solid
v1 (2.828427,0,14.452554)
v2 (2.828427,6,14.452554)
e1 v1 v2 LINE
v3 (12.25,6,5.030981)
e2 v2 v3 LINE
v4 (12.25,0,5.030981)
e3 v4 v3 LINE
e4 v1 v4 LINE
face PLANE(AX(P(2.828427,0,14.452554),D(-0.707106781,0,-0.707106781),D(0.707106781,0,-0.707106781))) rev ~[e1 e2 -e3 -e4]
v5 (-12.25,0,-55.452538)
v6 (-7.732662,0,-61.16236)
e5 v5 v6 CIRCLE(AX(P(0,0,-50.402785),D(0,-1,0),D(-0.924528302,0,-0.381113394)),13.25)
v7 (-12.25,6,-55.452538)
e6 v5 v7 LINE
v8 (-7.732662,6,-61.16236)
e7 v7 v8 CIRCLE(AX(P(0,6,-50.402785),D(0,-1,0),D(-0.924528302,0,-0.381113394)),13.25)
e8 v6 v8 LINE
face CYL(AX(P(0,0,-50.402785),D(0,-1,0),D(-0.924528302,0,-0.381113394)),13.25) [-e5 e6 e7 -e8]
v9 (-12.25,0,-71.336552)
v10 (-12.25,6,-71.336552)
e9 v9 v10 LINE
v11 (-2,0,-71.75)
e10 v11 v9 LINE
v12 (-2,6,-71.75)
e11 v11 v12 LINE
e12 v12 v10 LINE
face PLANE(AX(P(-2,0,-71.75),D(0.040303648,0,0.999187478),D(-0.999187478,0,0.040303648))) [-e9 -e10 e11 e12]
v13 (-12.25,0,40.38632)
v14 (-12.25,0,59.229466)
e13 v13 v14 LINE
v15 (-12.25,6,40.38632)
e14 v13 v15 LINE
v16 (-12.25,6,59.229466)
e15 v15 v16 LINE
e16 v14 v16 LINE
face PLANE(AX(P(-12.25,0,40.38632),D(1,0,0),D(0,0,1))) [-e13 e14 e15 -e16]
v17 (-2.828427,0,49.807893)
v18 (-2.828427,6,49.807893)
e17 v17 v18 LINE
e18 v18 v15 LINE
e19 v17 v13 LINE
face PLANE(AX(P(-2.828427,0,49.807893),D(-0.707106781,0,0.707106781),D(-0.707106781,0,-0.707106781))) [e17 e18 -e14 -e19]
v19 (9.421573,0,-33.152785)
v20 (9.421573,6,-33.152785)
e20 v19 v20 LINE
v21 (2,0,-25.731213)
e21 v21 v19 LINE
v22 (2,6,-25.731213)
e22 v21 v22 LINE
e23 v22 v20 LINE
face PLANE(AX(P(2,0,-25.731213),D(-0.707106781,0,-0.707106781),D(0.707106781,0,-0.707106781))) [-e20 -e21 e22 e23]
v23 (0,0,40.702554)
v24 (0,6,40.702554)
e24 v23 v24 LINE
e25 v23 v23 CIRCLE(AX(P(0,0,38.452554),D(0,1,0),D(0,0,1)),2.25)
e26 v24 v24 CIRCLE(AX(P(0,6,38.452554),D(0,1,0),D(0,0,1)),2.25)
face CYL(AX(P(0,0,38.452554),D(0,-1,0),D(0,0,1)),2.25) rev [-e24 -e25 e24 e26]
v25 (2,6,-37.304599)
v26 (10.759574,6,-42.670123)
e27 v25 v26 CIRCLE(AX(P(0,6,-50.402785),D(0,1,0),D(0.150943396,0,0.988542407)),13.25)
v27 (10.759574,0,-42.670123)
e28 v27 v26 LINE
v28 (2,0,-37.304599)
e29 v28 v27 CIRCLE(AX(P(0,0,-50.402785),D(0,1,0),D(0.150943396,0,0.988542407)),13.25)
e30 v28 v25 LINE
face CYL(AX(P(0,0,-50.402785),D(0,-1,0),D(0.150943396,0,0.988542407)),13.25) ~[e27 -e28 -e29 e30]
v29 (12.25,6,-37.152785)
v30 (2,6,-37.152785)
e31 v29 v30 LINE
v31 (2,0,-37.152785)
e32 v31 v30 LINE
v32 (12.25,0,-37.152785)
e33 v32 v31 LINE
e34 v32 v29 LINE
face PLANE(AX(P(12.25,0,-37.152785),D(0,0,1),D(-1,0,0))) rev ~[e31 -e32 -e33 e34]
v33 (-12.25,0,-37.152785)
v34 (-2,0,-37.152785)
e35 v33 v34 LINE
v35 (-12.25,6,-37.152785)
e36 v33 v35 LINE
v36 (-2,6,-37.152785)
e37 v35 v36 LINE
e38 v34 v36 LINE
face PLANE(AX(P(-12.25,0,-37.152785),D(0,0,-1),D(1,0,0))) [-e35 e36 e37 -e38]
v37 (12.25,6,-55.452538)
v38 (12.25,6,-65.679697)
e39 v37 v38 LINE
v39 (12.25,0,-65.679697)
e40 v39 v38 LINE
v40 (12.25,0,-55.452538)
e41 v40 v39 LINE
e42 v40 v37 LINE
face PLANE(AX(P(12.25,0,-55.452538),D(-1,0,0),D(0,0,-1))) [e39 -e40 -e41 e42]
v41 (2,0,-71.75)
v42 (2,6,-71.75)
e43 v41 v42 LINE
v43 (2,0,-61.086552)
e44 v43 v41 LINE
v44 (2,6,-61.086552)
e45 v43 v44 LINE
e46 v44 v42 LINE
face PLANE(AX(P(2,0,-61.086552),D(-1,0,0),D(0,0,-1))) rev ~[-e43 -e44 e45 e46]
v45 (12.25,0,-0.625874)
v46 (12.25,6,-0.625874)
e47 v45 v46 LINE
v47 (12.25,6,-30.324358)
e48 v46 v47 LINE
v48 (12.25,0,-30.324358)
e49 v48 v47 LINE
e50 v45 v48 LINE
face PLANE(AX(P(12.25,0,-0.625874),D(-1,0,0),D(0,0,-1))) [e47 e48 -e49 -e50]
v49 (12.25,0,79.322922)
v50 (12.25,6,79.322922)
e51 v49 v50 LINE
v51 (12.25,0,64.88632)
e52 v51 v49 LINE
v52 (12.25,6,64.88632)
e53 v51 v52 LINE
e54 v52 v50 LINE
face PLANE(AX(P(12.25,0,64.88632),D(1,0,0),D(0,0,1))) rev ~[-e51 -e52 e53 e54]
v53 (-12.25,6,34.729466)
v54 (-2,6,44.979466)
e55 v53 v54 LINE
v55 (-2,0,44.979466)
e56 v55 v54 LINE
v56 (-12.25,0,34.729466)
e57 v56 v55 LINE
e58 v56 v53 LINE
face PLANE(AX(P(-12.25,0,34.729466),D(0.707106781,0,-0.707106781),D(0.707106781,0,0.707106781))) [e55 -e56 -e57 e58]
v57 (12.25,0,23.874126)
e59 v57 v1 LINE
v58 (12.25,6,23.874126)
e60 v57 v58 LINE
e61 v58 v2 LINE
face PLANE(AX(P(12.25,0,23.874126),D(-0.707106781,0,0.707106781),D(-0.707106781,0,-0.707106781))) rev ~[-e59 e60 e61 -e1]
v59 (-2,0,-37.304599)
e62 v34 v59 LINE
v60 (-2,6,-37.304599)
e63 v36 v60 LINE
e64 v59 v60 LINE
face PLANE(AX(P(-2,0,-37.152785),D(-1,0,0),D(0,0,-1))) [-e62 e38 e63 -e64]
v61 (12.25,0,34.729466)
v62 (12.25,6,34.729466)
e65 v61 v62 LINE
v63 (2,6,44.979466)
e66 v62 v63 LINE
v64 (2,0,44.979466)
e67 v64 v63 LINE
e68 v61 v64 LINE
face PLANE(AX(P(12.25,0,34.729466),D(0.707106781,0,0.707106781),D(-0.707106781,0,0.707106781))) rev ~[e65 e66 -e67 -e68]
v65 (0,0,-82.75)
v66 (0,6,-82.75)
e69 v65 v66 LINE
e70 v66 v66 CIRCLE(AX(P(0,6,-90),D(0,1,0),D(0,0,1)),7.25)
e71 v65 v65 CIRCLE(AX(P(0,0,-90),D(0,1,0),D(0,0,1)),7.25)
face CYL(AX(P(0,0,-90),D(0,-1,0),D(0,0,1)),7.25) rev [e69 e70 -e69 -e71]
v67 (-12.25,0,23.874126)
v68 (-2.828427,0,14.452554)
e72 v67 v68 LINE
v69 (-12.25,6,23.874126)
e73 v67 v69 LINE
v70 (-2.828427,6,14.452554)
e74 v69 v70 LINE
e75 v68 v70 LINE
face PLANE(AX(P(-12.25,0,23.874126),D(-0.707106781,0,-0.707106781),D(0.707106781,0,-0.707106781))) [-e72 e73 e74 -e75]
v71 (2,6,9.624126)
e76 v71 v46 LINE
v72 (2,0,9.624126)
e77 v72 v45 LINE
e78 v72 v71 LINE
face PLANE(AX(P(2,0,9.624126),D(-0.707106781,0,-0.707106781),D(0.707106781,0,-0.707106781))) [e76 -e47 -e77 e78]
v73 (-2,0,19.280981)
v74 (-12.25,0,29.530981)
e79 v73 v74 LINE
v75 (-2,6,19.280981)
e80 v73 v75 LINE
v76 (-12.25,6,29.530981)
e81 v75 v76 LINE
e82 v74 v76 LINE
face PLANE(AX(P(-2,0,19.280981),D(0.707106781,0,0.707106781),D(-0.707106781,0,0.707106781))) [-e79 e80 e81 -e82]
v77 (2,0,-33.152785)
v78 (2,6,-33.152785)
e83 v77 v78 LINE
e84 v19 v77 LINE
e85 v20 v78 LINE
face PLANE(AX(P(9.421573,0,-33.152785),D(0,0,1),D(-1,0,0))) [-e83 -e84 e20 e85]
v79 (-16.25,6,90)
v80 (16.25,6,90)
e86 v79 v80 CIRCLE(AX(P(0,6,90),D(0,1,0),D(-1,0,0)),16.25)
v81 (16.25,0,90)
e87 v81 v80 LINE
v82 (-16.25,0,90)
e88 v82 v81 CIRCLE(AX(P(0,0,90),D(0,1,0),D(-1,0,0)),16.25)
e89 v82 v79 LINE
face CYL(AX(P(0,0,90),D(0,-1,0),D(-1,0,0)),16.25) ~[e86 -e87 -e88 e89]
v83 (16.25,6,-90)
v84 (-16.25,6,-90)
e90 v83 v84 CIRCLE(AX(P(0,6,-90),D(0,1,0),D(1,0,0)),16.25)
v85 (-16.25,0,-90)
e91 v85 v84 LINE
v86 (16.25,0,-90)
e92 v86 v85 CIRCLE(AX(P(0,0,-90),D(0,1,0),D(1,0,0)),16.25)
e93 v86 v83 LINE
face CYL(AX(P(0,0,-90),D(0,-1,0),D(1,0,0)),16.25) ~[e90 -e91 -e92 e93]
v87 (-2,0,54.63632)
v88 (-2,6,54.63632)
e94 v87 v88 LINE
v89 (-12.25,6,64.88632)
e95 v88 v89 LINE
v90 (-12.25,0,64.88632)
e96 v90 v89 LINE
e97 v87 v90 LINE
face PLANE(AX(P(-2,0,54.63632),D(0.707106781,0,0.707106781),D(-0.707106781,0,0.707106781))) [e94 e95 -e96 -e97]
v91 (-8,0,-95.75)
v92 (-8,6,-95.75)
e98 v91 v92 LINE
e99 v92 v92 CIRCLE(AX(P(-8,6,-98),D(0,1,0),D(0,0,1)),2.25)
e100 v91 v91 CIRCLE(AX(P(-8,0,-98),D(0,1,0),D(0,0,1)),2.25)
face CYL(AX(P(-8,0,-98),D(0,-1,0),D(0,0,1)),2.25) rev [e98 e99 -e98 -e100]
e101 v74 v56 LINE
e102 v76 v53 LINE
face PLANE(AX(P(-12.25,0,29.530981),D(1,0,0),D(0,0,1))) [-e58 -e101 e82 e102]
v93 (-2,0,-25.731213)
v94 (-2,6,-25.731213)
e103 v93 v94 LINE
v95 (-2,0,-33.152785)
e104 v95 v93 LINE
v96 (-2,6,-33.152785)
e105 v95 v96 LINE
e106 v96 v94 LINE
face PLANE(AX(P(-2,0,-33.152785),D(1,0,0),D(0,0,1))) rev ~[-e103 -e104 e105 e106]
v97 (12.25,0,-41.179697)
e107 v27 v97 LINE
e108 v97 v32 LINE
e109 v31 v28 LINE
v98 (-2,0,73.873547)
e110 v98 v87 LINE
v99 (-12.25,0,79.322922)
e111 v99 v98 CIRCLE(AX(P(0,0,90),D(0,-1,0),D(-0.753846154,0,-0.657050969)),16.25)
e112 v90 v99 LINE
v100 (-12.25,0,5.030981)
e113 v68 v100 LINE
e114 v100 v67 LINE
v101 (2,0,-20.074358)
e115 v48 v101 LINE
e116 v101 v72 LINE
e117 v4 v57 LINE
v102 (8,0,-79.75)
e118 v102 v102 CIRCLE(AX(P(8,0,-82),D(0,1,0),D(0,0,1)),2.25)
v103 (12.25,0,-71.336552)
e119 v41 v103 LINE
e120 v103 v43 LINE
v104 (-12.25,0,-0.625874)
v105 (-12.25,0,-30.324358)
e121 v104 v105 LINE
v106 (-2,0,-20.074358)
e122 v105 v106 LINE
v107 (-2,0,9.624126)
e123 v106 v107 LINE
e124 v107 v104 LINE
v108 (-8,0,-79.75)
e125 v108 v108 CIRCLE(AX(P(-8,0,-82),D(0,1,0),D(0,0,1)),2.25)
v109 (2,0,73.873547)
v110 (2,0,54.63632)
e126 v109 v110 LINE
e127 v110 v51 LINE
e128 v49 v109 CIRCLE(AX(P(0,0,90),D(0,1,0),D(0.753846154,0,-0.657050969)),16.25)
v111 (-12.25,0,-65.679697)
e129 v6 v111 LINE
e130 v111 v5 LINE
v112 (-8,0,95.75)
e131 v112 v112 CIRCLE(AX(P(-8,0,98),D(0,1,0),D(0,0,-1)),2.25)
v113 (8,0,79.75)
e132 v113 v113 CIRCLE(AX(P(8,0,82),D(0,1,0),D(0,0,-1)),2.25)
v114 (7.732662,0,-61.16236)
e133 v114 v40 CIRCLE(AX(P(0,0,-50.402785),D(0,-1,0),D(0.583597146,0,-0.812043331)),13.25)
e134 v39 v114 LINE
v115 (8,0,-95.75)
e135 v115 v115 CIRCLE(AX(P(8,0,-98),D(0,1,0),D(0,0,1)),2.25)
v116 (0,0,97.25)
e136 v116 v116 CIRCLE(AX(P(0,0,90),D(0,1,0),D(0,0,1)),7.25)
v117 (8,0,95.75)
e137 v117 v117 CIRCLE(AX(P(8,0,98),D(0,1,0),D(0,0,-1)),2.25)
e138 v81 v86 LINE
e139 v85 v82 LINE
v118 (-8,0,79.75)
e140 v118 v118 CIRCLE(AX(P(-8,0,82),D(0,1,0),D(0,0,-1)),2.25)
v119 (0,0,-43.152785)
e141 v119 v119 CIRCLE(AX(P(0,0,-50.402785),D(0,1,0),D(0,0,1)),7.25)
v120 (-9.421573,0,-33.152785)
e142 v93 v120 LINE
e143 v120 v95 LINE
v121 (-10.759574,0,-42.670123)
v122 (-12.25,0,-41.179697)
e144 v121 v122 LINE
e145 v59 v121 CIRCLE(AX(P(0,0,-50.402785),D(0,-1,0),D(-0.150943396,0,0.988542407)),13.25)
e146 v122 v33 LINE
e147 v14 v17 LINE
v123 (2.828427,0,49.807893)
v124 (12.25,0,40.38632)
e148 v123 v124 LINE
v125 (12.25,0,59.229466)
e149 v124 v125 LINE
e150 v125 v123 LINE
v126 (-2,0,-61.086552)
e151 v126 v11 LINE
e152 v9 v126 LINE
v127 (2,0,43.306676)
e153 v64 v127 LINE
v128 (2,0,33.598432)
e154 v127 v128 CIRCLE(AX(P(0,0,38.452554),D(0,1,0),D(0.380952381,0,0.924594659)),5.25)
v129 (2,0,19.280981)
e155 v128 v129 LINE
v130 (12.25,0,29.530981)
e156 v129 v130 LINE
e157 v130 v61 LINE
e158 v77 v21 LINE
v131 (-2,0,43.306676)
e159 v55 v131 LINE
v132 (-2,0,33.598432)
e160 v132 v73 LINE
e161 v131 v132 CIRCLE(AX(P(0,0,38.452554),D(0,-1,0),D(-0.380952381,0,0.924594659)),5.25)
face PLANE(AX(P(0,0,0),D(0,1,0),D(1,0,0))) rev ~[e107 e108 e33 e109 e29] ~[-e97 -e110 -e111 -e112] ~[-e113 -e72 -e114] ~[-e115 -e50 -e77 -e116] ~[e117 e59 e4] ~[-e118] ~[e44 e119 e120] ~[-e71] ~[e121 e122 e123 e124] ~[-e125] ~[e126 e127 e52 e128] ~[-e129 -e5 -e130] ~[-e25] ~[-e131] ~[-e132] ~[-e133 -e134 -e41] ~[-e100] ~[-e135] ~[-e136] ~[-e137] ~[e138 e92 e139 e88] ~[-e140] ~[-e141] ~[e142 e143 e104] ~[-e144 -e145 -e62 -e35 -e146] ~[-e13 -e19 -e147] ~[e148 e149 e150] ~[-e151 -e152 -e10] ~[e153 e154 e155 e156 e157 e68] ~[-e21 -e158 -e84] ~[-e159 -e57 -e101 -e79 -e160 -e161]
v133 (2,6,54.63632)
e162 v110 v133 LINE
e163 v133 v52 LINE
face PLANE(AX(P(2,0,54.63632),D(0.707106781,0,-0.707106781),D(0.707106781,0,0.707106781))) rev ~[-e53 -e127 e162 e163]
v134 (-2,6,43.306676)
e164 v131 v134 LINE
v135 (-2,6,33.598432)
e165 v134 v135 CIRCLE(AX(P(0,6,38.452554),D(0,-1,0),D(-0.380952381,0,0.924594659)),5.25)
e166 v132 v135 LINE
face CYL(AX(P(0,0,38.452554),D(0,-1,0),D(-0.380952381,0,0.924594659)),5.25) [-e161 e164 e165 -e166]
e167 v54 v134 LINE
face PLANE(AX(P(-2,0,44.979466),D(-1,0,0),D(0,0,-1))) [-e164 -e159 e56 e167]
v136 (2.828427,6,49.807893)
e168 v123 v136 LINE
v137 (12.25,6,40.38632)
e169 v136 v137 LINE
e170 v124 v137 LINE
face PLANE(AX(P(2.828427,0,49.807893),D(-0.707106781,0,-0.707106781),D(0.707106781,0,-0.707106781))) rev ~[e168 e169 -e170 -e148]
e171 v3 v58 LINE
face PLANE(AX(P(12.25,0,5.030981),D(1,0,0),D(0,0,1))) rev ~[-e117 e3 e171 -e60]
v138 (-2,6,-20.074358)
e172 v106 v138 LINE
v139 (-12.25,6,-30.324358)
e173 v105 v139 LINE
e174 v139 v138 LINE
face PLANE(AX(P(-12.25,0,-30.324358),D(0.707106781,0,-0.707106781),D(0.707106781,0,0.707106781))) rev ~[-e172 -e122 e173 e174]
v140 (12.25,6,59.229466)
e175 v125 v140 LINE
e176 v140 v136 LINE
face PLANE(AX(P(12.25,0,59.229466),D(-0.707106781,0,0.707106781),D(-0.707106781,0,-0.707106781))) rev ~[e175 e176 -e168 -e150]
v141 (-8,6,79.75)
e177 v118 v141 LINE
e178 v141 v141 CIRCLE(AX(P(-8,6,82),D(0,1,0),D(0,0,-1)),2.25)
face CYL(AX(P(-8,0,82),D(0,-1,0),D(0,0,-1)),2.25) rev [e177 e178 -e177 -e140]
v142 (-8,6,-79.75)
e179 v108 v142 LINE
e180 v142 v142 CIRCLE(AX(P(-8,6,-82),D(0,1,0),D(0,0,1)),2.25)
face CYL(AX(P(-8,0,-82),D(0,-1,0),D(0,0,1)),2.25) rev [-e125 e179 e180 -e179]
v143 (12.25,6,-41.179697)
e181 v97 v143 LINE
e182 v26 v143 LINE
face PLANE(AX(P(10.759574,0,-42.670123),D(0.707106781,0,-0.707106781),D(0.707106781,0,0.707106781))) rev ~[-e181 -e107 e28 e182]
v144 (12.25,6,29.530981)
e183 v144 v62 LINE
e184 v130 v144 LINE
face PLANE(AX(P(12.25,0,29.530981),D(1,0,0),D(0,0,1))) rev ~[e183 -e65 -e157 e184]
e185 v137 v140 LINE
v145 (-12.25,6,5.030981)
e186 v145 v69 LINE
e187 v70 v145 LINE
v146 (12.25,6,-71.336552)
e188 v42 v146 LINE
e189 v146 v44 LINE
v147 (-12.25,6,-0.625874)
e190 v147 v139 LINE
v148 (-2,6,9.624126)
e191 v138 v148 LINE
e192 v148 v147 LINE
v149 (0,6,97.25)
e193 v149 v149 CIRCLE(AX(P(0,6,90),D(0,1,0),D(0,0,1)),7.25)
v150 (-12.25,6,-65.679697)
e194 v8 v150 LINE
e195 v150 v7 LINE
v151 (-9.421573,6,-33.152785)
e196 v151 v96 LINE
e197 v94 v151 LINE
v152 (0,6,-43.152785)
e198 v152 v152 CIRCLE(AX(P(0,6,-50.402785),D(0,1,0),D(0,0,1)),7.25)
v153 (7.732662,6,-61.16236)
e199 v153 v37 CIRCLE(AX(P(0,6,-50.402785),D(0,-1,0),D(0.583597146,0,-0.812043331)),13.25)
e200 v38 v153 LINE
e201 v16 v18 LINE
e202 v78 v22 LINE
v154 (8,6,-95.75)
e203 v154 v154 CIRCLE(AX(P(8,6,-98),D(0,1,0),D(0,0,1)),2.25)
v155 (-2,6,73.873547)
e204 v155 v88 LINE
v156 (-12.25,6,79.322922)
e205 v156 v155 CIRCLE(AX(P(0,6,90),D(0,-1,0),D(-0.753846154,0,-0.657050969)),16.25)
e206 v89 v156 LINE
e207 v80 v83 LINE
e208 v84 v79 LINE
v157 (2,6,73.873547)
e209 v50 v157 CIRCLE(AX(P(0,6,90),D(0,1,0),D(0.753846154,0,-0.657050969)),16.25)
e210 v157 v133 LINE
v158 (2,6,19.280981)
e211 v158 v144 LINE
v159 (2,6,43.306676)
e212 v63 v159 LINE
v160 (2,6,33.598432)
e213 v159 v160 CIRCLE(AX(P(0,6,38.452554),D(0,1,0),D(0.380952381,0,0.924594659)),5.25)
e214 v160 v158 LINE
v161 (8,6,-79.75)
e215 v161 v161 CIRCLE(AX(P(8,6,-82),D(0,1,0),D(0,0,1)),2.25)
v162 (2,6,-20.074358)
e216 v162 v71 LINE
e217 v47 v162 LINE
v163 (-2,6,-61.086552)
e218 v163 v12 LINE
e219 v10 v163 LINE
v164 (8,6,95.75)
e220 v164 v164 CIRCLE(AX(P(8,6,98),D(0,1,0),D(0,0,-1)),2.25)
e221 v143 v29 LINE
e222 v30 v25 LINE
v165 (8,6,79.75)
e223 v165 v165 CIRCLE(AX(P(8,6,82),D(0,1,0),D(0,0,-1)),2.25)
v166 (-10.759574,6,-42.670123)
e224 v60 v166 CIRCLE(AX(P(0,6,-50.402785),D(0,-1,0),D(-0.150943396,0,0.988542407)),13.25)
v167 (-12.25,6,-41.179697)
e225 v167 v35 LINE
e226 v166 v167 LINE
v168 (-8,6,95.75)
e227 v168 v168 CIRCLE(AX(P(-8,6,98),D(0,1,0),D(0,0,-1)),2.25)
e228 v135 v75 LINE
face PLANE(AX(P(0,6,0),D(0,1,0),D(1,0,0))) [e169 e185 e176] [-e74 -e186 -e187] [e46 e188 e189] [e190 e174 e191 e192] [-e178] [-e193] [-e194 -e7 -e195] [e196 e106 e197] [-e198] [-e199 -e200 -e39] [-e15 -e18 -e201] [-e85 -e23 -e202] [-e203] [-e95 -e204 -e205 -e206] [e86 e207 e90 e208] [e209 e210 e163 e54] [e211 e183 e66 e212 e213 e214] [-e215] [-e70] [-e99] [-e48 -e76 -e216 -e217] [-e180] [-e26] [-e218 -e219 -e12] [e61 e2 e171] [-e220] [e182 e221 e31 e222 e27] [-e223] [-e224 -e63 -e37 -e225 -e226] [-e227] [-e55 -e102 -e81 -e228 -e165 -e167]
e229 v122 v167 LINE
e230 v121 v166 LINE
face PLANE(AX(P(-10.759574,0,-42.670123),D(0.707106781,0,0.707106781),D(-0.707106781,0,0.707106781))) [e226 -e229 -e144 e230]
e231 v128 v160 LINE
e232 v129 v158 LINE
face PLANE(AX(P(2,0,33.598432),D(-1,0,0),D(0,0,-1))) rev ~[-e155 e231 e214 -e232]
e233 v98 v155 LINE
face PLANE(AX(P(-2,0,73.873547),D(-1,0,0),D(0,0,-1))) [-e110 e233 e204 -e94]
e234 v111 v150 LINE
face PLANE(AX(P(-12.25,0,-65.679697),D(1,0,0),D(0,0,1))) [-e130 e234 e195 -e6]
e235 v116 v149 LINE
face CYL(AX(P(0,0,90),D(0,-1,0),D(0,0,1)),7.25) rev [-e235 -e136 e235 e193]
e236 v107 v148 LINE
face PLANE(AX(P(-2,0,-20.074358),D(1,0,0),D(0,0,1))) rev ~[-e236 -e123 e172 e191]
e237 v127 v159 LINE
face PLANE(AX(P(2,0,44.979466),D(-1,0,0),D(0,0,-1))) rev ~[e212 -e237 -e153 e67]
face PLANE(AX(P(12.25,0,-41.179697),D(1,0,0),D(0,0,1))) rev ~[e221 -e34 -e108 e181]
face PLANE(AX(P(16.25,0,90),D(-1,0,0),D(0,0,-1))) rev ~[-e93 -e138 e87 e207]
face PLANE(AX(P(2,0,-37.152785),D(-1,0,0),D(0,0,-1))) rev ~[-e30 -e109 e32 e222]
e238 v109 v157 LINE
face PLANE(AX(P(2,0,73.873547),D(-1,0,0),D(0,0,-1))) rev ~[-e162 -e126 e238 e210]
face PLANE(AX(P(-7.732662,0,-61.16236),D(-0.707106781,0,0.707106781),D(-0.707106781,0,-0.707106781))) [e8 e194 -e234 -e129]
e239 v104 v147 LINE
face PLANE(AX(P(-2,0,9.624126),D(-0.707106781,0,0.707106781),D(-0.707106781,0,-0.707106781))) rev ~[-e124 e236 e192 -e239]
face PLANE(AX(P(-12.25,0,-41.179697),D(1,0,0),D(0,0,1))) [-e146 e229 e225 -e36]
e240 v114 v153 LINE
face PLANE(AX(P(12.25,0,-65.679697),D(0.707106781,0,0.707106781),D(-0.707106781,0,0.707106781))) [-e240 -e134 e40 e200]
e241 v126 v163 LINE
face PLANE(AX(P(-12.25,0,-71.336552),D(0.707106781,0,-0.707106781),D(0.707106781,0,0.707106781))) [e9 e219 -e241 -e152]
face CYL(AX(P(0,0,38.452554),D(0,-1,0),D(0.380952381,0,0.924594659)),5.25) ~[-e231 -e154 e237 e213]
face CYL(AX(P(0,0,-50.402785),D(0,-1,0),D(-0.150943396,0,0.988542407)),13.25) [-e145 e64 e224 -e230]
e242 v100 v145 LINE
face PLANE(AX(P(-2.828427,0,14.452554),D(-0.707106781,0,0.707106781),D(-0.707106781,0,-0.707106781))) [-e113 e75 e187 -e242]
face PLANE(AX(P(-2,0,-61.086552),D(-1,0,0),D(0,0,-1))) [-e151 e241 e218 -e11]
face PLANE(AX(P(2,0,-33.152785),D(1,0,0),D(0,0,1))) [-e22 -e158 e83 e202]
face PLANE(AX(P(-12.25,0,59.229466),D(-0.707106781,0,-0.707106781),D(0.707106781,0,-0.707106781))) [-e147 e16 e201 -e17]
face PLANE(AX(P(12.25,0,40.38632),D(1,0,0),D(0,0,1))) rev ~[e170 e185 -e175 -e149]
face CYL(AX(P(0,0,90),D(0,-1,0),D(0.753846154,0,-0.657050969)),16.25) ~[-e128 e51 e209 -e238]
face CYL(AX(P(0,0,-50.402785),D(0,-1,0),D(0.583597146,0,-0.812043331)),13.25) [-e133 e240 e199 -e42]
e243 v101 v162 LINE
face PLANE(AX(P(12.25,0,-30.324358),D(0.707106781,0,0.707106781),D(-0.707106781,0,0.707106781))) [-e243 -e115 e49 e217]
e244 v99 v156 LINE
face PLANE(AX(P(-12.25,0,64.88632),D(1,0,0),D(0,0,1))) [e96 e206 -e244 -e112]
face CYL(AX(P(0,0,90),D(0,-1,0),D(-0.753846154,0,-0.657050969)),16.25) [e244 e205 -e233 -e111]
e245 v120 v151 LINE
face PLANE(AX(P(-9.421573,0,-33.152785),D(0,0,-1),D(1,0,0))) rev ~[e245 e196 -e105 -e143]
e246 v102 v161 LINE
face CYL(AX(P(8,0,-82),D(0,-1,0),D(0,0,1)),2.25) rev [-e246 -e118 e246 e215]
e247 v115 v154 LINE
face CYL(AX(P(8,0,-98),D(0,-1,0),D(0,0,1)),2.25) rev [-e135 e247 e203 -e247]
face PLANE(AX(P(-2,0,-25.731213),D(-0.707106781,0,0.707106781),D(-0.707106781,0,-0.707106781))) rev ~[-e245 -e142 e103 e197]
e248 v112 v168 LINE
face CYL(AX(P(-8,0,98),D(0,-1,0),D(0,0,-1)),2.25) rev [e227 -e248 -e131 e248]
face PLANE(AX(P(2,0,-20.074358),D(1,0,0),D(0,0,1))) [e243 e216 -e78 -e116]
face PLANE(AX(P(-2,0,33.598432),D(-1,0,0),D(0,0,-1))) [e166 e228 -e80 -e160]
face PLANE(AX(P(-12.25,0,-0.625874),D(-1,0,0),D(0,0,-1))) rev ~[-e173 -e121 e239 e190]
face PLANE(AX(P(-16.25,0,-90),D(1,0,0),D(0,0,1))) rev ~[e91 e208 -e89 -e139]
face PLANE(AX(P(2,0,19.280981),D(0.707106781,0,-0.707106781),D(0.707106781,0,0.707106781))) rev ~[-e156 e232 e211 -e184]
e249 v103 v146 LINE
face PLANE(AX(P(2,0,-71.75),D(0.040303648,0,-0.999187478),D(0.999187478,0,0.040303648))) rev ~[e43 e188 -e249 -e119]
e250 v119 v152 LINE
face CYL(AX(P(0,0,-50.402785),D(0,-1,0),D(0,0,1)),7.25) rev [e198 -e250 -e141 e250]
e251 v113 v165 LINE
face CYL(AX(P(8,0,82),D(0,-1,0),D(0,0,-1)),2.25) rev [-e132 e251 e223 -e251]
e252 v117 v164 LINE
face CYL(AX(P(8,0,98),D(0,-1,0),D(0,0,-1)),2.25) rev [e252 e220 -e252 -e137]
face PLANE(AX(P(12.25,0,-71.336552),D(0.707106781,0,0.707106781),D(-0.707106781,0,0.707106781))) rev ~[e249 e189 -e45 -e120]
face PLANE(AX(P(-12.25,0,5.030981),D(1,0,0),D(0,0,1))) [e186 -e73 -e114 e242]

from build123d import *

# Parameters (mm, degrees)
SKETCH2_R           = 7.25
SKETCH2_R_2         = 2.25
BOSS_EXTRUDE1_DEPTH = 6
CUT_EXTRUDE1_START  = -6
CUT_EXTRUDE1_DEPTH  = 6


with BuildPart() as part:
    # Sketch2 → Boss-Extrude1 (new body)
    with BuildSketch(Plane(origin=(0, 0, 0), x_dir=(1, 0, 0), z_dir=(0, 1, 0))):
        with BuildLine():
            Line((-16.25, 90), (-16.25, -90))
            ThreePointArc((-16.25, -90), (0, -106.25), (16.25, -90))
            Line((16.25, -90), (16.25, 90))
            ThreePointArc((16.25, 90), (0, 106.25), (-16.25, 90))
        make_face()
        with Locations(Location((0, 90, 0), (0, 0, 270))):
            Circle(SKETCH2_R, mode=Mode.SUBTRACT)
        with Locations(Location((0, -90, 0), (0, 0, 270))):
            Circle(SKETCH2_R, mode=Mode.SUBTRACT)
        with Locations(Location((8, 98, 0), (0, 0, 270))):
            Circle(SKETCH2_R_2, mode=Mode.SUBTRACT)
        with Locations(Location((-8, 98, 0), (0, 0, 270))):
            Circle(SKETCH2_R_2, mode=Mode.SUBTRACT)
        with Locations(Location((-8, 82, 0), (0, 0, 270))):
            Circle(SKETCH2_R_2, mode=Mode.SUBTRACT)
        with Locations(Location((8, 82, 0), (0, 0, 270))):
            Circle(SKETCH2_R_2, mode=Mode.SUBTRACT)
        with Locations(Location((8, -98, 0), (0, 0, 90))):
            Circle(SKETCH2_R_2, mode=Mode.SUBTRACT)
        with Locations(Location((8, -82, 0), (0, 0, 90))):
            Circle(SKETCH2_R_2, mode=Mode.SUBTRACT)
        with Locations(Location((-8, -82, 0), (0, 0, 90))):
            Circle(SKETCH2_R_2, mode=Mode.SUBTRACT)
        with Locations(Location((-8, -98, 0), (0, 0, 90))):
            Circle(SKETCH2_R_2, mode=Mode.SUBTRACT)
        with Locations(Location((0, 50.402785483, 0), (0, 0, 270))):
            Circle(SKETCH2_R, mode=Mode.SUBTRACT)
        with Locations(Location((0, -38.452553576, 0), (0, 0, 270))):
            Circle(SKETCH2_R_2, mode=Mode.SUBTRACT)
    extrude(amount=BOSS_EXTRUDE1_DEPTH)

    # Sketch3 → Cut-Extrude1 (cut)
    with BuildSketch(Plane(origin=(0, 6, 0), x_dir=(1, 0, 0), z_dir=(0, 1, 0)).offset(CUT_EXTRUDE1_START)):
        Polygon((-12.25, 30.324358358), (-2, 20.074358358), (-2, -9.624126451), (-12.25, 0.625873549), align=None)
        Polygon((-12.25, -5.030980701), (-12.25, -23.874126451), (-2.828427125, -14.452553576), align=None)
        Polygon((-9.421572875, 33.152785483), (-2, 33.152785483), (-2, 25.731212608), align=None)
        Polygon((12.25, -23.874126451), (2.828427125, -14.452553576), (12.25, -5.030980701), align=None)
        Polygon((9.421572875, 33.152785483), (2, 33.152785483), (2, 25.731212608), align=None)
        Polygon((2, -9.624126451), (12.25, 0.625873549), (12.25, 30.324358358), (2, 20.074358358), align=None)
        Polygon((-12.25, 71.336551667), (-2, 61.086551667), (-2, 71.75), align=None)
        with BuildLine():
            Line((-12.25, 65.679697418), (-12.25, 55.452537952))
            ThreePointArc((-12.25, 55.452537952), (-10.391208444, 58.623812614), (-7.732662193, 61.162359611))
            Line((-7.732662193, 61.162359611), (-12.25, 65.679697418))
        make_face()
        with BuildLine():
            Line((-12.25, 41.179697418), (-12.25, 37.152785483))
            Line((-12.25, 37.152785483), (-2, 37.152785483))
            Line((-2, 37.152785483), (-2, 37.304598586))
            ThreePointArc((-2, 37.304598586), (-6.92090289, 39.103953544), (-10.759574128, 42.67012329))
            Line((-10.759574128, 42.67012329), (-12.25, 41.179697418))
        make_face()
        with BuildLine():
            Line((12.25, 41.179697418), (12.25, 37.152785483))
            Line((12.25, 37.152785483), (2, 37.152785483))
            Line((2, 37.152785483), (2, 37.304598586))
            ThreePointArc((2, 37.304598586), (6.92090289, 39.103953544), (10.759574128, 42.67012329))
            Line((10.759574128, 42.67012329), (12.25, 41.179697418))
        make_face()
        with BuildLine():
            Line((12.25, 65.679697418), (7.732662193, 61.162359611))
            ThreePointArc((7.732662193, 61.162359611), (10.391208444, 58.623812614), (12.25, 55.452537952))
            Line((12.25, 55.452537952), (12.25, 65.679697418))
        make_face()
        Polygon((2, 61.086551667), (2, 71.75), (12.25, 71.336551667), align=None)
        with BuildLine():
            Line((-2, -19.280980701), (-12.25, -29.530980701))
            Line((-12.25, -29.530980701), (-12.25, -34.729465511))
            Line((-12.25, -34.729465511), (-2, -44.979465511))
            Line((-2, -44.979465511), (-2, -43.306675536))
            ThreePointArc((-2, -43.306675536), (-5.25, -38.452553576), (-2, -33.598431616))
            Line((-2, -33.598431616), (-2, -19.280980701))
        make_face()
        Polygon((-12.25, -40.38631976), (-12.25, -59.229465511), (-2.828427125, -49.807892635), align=None)
        with BuildLine():
            Line((-2, -54.63631976), (-12.25, -64.88631976))
            Line((-12.25, -64.88631976), (-12.25, -79.322921748))
            ThreePointArc((-12.25, -79.322921748), (-7.628207354, -75.651726495), (-2, -73.873546577))
            Line((-2, -73.873546577), (-2, -54.63631976))
        make_face()
        with BuildLine():
            Line((12.25, -64.88631976), (12.25, -79.322921748))
            ThreePointArc((12.25, -79.322921748), (7.628207354, -75.651726495), (2, -73.873546577))
            Line((2, -73.873546577), (2, -54.63631976))
            Line((2, -54.63631976), (12.25, -64.88631976))
        make_face()
        Polygon((12.25, -59.229465511), (2.828427125, -49.807892635), (12.25, -40.38631976), align=None)
        with BuildLine():
            Line((12.25, -34.729465511), (2, -44.979465511))
            Line((2, -44.979465511), (2, -43.306675536))
            ThreePointArc((2, -43.306675536), (5.25, -38.452553576), (2, -33.598431616))
            Line((2, -33.598431616), (2, -19.280980701))
            Line((2, -19.280980701), (12.25, -29.530980701))
            Line((12.25, -29.530980701), (12.25, -34.729465511))
        make_face()
    extrude(amount=CUT_EXTRUDE1_DEPTH, mode=Mode.SUBTRACT)


solid = part.part
